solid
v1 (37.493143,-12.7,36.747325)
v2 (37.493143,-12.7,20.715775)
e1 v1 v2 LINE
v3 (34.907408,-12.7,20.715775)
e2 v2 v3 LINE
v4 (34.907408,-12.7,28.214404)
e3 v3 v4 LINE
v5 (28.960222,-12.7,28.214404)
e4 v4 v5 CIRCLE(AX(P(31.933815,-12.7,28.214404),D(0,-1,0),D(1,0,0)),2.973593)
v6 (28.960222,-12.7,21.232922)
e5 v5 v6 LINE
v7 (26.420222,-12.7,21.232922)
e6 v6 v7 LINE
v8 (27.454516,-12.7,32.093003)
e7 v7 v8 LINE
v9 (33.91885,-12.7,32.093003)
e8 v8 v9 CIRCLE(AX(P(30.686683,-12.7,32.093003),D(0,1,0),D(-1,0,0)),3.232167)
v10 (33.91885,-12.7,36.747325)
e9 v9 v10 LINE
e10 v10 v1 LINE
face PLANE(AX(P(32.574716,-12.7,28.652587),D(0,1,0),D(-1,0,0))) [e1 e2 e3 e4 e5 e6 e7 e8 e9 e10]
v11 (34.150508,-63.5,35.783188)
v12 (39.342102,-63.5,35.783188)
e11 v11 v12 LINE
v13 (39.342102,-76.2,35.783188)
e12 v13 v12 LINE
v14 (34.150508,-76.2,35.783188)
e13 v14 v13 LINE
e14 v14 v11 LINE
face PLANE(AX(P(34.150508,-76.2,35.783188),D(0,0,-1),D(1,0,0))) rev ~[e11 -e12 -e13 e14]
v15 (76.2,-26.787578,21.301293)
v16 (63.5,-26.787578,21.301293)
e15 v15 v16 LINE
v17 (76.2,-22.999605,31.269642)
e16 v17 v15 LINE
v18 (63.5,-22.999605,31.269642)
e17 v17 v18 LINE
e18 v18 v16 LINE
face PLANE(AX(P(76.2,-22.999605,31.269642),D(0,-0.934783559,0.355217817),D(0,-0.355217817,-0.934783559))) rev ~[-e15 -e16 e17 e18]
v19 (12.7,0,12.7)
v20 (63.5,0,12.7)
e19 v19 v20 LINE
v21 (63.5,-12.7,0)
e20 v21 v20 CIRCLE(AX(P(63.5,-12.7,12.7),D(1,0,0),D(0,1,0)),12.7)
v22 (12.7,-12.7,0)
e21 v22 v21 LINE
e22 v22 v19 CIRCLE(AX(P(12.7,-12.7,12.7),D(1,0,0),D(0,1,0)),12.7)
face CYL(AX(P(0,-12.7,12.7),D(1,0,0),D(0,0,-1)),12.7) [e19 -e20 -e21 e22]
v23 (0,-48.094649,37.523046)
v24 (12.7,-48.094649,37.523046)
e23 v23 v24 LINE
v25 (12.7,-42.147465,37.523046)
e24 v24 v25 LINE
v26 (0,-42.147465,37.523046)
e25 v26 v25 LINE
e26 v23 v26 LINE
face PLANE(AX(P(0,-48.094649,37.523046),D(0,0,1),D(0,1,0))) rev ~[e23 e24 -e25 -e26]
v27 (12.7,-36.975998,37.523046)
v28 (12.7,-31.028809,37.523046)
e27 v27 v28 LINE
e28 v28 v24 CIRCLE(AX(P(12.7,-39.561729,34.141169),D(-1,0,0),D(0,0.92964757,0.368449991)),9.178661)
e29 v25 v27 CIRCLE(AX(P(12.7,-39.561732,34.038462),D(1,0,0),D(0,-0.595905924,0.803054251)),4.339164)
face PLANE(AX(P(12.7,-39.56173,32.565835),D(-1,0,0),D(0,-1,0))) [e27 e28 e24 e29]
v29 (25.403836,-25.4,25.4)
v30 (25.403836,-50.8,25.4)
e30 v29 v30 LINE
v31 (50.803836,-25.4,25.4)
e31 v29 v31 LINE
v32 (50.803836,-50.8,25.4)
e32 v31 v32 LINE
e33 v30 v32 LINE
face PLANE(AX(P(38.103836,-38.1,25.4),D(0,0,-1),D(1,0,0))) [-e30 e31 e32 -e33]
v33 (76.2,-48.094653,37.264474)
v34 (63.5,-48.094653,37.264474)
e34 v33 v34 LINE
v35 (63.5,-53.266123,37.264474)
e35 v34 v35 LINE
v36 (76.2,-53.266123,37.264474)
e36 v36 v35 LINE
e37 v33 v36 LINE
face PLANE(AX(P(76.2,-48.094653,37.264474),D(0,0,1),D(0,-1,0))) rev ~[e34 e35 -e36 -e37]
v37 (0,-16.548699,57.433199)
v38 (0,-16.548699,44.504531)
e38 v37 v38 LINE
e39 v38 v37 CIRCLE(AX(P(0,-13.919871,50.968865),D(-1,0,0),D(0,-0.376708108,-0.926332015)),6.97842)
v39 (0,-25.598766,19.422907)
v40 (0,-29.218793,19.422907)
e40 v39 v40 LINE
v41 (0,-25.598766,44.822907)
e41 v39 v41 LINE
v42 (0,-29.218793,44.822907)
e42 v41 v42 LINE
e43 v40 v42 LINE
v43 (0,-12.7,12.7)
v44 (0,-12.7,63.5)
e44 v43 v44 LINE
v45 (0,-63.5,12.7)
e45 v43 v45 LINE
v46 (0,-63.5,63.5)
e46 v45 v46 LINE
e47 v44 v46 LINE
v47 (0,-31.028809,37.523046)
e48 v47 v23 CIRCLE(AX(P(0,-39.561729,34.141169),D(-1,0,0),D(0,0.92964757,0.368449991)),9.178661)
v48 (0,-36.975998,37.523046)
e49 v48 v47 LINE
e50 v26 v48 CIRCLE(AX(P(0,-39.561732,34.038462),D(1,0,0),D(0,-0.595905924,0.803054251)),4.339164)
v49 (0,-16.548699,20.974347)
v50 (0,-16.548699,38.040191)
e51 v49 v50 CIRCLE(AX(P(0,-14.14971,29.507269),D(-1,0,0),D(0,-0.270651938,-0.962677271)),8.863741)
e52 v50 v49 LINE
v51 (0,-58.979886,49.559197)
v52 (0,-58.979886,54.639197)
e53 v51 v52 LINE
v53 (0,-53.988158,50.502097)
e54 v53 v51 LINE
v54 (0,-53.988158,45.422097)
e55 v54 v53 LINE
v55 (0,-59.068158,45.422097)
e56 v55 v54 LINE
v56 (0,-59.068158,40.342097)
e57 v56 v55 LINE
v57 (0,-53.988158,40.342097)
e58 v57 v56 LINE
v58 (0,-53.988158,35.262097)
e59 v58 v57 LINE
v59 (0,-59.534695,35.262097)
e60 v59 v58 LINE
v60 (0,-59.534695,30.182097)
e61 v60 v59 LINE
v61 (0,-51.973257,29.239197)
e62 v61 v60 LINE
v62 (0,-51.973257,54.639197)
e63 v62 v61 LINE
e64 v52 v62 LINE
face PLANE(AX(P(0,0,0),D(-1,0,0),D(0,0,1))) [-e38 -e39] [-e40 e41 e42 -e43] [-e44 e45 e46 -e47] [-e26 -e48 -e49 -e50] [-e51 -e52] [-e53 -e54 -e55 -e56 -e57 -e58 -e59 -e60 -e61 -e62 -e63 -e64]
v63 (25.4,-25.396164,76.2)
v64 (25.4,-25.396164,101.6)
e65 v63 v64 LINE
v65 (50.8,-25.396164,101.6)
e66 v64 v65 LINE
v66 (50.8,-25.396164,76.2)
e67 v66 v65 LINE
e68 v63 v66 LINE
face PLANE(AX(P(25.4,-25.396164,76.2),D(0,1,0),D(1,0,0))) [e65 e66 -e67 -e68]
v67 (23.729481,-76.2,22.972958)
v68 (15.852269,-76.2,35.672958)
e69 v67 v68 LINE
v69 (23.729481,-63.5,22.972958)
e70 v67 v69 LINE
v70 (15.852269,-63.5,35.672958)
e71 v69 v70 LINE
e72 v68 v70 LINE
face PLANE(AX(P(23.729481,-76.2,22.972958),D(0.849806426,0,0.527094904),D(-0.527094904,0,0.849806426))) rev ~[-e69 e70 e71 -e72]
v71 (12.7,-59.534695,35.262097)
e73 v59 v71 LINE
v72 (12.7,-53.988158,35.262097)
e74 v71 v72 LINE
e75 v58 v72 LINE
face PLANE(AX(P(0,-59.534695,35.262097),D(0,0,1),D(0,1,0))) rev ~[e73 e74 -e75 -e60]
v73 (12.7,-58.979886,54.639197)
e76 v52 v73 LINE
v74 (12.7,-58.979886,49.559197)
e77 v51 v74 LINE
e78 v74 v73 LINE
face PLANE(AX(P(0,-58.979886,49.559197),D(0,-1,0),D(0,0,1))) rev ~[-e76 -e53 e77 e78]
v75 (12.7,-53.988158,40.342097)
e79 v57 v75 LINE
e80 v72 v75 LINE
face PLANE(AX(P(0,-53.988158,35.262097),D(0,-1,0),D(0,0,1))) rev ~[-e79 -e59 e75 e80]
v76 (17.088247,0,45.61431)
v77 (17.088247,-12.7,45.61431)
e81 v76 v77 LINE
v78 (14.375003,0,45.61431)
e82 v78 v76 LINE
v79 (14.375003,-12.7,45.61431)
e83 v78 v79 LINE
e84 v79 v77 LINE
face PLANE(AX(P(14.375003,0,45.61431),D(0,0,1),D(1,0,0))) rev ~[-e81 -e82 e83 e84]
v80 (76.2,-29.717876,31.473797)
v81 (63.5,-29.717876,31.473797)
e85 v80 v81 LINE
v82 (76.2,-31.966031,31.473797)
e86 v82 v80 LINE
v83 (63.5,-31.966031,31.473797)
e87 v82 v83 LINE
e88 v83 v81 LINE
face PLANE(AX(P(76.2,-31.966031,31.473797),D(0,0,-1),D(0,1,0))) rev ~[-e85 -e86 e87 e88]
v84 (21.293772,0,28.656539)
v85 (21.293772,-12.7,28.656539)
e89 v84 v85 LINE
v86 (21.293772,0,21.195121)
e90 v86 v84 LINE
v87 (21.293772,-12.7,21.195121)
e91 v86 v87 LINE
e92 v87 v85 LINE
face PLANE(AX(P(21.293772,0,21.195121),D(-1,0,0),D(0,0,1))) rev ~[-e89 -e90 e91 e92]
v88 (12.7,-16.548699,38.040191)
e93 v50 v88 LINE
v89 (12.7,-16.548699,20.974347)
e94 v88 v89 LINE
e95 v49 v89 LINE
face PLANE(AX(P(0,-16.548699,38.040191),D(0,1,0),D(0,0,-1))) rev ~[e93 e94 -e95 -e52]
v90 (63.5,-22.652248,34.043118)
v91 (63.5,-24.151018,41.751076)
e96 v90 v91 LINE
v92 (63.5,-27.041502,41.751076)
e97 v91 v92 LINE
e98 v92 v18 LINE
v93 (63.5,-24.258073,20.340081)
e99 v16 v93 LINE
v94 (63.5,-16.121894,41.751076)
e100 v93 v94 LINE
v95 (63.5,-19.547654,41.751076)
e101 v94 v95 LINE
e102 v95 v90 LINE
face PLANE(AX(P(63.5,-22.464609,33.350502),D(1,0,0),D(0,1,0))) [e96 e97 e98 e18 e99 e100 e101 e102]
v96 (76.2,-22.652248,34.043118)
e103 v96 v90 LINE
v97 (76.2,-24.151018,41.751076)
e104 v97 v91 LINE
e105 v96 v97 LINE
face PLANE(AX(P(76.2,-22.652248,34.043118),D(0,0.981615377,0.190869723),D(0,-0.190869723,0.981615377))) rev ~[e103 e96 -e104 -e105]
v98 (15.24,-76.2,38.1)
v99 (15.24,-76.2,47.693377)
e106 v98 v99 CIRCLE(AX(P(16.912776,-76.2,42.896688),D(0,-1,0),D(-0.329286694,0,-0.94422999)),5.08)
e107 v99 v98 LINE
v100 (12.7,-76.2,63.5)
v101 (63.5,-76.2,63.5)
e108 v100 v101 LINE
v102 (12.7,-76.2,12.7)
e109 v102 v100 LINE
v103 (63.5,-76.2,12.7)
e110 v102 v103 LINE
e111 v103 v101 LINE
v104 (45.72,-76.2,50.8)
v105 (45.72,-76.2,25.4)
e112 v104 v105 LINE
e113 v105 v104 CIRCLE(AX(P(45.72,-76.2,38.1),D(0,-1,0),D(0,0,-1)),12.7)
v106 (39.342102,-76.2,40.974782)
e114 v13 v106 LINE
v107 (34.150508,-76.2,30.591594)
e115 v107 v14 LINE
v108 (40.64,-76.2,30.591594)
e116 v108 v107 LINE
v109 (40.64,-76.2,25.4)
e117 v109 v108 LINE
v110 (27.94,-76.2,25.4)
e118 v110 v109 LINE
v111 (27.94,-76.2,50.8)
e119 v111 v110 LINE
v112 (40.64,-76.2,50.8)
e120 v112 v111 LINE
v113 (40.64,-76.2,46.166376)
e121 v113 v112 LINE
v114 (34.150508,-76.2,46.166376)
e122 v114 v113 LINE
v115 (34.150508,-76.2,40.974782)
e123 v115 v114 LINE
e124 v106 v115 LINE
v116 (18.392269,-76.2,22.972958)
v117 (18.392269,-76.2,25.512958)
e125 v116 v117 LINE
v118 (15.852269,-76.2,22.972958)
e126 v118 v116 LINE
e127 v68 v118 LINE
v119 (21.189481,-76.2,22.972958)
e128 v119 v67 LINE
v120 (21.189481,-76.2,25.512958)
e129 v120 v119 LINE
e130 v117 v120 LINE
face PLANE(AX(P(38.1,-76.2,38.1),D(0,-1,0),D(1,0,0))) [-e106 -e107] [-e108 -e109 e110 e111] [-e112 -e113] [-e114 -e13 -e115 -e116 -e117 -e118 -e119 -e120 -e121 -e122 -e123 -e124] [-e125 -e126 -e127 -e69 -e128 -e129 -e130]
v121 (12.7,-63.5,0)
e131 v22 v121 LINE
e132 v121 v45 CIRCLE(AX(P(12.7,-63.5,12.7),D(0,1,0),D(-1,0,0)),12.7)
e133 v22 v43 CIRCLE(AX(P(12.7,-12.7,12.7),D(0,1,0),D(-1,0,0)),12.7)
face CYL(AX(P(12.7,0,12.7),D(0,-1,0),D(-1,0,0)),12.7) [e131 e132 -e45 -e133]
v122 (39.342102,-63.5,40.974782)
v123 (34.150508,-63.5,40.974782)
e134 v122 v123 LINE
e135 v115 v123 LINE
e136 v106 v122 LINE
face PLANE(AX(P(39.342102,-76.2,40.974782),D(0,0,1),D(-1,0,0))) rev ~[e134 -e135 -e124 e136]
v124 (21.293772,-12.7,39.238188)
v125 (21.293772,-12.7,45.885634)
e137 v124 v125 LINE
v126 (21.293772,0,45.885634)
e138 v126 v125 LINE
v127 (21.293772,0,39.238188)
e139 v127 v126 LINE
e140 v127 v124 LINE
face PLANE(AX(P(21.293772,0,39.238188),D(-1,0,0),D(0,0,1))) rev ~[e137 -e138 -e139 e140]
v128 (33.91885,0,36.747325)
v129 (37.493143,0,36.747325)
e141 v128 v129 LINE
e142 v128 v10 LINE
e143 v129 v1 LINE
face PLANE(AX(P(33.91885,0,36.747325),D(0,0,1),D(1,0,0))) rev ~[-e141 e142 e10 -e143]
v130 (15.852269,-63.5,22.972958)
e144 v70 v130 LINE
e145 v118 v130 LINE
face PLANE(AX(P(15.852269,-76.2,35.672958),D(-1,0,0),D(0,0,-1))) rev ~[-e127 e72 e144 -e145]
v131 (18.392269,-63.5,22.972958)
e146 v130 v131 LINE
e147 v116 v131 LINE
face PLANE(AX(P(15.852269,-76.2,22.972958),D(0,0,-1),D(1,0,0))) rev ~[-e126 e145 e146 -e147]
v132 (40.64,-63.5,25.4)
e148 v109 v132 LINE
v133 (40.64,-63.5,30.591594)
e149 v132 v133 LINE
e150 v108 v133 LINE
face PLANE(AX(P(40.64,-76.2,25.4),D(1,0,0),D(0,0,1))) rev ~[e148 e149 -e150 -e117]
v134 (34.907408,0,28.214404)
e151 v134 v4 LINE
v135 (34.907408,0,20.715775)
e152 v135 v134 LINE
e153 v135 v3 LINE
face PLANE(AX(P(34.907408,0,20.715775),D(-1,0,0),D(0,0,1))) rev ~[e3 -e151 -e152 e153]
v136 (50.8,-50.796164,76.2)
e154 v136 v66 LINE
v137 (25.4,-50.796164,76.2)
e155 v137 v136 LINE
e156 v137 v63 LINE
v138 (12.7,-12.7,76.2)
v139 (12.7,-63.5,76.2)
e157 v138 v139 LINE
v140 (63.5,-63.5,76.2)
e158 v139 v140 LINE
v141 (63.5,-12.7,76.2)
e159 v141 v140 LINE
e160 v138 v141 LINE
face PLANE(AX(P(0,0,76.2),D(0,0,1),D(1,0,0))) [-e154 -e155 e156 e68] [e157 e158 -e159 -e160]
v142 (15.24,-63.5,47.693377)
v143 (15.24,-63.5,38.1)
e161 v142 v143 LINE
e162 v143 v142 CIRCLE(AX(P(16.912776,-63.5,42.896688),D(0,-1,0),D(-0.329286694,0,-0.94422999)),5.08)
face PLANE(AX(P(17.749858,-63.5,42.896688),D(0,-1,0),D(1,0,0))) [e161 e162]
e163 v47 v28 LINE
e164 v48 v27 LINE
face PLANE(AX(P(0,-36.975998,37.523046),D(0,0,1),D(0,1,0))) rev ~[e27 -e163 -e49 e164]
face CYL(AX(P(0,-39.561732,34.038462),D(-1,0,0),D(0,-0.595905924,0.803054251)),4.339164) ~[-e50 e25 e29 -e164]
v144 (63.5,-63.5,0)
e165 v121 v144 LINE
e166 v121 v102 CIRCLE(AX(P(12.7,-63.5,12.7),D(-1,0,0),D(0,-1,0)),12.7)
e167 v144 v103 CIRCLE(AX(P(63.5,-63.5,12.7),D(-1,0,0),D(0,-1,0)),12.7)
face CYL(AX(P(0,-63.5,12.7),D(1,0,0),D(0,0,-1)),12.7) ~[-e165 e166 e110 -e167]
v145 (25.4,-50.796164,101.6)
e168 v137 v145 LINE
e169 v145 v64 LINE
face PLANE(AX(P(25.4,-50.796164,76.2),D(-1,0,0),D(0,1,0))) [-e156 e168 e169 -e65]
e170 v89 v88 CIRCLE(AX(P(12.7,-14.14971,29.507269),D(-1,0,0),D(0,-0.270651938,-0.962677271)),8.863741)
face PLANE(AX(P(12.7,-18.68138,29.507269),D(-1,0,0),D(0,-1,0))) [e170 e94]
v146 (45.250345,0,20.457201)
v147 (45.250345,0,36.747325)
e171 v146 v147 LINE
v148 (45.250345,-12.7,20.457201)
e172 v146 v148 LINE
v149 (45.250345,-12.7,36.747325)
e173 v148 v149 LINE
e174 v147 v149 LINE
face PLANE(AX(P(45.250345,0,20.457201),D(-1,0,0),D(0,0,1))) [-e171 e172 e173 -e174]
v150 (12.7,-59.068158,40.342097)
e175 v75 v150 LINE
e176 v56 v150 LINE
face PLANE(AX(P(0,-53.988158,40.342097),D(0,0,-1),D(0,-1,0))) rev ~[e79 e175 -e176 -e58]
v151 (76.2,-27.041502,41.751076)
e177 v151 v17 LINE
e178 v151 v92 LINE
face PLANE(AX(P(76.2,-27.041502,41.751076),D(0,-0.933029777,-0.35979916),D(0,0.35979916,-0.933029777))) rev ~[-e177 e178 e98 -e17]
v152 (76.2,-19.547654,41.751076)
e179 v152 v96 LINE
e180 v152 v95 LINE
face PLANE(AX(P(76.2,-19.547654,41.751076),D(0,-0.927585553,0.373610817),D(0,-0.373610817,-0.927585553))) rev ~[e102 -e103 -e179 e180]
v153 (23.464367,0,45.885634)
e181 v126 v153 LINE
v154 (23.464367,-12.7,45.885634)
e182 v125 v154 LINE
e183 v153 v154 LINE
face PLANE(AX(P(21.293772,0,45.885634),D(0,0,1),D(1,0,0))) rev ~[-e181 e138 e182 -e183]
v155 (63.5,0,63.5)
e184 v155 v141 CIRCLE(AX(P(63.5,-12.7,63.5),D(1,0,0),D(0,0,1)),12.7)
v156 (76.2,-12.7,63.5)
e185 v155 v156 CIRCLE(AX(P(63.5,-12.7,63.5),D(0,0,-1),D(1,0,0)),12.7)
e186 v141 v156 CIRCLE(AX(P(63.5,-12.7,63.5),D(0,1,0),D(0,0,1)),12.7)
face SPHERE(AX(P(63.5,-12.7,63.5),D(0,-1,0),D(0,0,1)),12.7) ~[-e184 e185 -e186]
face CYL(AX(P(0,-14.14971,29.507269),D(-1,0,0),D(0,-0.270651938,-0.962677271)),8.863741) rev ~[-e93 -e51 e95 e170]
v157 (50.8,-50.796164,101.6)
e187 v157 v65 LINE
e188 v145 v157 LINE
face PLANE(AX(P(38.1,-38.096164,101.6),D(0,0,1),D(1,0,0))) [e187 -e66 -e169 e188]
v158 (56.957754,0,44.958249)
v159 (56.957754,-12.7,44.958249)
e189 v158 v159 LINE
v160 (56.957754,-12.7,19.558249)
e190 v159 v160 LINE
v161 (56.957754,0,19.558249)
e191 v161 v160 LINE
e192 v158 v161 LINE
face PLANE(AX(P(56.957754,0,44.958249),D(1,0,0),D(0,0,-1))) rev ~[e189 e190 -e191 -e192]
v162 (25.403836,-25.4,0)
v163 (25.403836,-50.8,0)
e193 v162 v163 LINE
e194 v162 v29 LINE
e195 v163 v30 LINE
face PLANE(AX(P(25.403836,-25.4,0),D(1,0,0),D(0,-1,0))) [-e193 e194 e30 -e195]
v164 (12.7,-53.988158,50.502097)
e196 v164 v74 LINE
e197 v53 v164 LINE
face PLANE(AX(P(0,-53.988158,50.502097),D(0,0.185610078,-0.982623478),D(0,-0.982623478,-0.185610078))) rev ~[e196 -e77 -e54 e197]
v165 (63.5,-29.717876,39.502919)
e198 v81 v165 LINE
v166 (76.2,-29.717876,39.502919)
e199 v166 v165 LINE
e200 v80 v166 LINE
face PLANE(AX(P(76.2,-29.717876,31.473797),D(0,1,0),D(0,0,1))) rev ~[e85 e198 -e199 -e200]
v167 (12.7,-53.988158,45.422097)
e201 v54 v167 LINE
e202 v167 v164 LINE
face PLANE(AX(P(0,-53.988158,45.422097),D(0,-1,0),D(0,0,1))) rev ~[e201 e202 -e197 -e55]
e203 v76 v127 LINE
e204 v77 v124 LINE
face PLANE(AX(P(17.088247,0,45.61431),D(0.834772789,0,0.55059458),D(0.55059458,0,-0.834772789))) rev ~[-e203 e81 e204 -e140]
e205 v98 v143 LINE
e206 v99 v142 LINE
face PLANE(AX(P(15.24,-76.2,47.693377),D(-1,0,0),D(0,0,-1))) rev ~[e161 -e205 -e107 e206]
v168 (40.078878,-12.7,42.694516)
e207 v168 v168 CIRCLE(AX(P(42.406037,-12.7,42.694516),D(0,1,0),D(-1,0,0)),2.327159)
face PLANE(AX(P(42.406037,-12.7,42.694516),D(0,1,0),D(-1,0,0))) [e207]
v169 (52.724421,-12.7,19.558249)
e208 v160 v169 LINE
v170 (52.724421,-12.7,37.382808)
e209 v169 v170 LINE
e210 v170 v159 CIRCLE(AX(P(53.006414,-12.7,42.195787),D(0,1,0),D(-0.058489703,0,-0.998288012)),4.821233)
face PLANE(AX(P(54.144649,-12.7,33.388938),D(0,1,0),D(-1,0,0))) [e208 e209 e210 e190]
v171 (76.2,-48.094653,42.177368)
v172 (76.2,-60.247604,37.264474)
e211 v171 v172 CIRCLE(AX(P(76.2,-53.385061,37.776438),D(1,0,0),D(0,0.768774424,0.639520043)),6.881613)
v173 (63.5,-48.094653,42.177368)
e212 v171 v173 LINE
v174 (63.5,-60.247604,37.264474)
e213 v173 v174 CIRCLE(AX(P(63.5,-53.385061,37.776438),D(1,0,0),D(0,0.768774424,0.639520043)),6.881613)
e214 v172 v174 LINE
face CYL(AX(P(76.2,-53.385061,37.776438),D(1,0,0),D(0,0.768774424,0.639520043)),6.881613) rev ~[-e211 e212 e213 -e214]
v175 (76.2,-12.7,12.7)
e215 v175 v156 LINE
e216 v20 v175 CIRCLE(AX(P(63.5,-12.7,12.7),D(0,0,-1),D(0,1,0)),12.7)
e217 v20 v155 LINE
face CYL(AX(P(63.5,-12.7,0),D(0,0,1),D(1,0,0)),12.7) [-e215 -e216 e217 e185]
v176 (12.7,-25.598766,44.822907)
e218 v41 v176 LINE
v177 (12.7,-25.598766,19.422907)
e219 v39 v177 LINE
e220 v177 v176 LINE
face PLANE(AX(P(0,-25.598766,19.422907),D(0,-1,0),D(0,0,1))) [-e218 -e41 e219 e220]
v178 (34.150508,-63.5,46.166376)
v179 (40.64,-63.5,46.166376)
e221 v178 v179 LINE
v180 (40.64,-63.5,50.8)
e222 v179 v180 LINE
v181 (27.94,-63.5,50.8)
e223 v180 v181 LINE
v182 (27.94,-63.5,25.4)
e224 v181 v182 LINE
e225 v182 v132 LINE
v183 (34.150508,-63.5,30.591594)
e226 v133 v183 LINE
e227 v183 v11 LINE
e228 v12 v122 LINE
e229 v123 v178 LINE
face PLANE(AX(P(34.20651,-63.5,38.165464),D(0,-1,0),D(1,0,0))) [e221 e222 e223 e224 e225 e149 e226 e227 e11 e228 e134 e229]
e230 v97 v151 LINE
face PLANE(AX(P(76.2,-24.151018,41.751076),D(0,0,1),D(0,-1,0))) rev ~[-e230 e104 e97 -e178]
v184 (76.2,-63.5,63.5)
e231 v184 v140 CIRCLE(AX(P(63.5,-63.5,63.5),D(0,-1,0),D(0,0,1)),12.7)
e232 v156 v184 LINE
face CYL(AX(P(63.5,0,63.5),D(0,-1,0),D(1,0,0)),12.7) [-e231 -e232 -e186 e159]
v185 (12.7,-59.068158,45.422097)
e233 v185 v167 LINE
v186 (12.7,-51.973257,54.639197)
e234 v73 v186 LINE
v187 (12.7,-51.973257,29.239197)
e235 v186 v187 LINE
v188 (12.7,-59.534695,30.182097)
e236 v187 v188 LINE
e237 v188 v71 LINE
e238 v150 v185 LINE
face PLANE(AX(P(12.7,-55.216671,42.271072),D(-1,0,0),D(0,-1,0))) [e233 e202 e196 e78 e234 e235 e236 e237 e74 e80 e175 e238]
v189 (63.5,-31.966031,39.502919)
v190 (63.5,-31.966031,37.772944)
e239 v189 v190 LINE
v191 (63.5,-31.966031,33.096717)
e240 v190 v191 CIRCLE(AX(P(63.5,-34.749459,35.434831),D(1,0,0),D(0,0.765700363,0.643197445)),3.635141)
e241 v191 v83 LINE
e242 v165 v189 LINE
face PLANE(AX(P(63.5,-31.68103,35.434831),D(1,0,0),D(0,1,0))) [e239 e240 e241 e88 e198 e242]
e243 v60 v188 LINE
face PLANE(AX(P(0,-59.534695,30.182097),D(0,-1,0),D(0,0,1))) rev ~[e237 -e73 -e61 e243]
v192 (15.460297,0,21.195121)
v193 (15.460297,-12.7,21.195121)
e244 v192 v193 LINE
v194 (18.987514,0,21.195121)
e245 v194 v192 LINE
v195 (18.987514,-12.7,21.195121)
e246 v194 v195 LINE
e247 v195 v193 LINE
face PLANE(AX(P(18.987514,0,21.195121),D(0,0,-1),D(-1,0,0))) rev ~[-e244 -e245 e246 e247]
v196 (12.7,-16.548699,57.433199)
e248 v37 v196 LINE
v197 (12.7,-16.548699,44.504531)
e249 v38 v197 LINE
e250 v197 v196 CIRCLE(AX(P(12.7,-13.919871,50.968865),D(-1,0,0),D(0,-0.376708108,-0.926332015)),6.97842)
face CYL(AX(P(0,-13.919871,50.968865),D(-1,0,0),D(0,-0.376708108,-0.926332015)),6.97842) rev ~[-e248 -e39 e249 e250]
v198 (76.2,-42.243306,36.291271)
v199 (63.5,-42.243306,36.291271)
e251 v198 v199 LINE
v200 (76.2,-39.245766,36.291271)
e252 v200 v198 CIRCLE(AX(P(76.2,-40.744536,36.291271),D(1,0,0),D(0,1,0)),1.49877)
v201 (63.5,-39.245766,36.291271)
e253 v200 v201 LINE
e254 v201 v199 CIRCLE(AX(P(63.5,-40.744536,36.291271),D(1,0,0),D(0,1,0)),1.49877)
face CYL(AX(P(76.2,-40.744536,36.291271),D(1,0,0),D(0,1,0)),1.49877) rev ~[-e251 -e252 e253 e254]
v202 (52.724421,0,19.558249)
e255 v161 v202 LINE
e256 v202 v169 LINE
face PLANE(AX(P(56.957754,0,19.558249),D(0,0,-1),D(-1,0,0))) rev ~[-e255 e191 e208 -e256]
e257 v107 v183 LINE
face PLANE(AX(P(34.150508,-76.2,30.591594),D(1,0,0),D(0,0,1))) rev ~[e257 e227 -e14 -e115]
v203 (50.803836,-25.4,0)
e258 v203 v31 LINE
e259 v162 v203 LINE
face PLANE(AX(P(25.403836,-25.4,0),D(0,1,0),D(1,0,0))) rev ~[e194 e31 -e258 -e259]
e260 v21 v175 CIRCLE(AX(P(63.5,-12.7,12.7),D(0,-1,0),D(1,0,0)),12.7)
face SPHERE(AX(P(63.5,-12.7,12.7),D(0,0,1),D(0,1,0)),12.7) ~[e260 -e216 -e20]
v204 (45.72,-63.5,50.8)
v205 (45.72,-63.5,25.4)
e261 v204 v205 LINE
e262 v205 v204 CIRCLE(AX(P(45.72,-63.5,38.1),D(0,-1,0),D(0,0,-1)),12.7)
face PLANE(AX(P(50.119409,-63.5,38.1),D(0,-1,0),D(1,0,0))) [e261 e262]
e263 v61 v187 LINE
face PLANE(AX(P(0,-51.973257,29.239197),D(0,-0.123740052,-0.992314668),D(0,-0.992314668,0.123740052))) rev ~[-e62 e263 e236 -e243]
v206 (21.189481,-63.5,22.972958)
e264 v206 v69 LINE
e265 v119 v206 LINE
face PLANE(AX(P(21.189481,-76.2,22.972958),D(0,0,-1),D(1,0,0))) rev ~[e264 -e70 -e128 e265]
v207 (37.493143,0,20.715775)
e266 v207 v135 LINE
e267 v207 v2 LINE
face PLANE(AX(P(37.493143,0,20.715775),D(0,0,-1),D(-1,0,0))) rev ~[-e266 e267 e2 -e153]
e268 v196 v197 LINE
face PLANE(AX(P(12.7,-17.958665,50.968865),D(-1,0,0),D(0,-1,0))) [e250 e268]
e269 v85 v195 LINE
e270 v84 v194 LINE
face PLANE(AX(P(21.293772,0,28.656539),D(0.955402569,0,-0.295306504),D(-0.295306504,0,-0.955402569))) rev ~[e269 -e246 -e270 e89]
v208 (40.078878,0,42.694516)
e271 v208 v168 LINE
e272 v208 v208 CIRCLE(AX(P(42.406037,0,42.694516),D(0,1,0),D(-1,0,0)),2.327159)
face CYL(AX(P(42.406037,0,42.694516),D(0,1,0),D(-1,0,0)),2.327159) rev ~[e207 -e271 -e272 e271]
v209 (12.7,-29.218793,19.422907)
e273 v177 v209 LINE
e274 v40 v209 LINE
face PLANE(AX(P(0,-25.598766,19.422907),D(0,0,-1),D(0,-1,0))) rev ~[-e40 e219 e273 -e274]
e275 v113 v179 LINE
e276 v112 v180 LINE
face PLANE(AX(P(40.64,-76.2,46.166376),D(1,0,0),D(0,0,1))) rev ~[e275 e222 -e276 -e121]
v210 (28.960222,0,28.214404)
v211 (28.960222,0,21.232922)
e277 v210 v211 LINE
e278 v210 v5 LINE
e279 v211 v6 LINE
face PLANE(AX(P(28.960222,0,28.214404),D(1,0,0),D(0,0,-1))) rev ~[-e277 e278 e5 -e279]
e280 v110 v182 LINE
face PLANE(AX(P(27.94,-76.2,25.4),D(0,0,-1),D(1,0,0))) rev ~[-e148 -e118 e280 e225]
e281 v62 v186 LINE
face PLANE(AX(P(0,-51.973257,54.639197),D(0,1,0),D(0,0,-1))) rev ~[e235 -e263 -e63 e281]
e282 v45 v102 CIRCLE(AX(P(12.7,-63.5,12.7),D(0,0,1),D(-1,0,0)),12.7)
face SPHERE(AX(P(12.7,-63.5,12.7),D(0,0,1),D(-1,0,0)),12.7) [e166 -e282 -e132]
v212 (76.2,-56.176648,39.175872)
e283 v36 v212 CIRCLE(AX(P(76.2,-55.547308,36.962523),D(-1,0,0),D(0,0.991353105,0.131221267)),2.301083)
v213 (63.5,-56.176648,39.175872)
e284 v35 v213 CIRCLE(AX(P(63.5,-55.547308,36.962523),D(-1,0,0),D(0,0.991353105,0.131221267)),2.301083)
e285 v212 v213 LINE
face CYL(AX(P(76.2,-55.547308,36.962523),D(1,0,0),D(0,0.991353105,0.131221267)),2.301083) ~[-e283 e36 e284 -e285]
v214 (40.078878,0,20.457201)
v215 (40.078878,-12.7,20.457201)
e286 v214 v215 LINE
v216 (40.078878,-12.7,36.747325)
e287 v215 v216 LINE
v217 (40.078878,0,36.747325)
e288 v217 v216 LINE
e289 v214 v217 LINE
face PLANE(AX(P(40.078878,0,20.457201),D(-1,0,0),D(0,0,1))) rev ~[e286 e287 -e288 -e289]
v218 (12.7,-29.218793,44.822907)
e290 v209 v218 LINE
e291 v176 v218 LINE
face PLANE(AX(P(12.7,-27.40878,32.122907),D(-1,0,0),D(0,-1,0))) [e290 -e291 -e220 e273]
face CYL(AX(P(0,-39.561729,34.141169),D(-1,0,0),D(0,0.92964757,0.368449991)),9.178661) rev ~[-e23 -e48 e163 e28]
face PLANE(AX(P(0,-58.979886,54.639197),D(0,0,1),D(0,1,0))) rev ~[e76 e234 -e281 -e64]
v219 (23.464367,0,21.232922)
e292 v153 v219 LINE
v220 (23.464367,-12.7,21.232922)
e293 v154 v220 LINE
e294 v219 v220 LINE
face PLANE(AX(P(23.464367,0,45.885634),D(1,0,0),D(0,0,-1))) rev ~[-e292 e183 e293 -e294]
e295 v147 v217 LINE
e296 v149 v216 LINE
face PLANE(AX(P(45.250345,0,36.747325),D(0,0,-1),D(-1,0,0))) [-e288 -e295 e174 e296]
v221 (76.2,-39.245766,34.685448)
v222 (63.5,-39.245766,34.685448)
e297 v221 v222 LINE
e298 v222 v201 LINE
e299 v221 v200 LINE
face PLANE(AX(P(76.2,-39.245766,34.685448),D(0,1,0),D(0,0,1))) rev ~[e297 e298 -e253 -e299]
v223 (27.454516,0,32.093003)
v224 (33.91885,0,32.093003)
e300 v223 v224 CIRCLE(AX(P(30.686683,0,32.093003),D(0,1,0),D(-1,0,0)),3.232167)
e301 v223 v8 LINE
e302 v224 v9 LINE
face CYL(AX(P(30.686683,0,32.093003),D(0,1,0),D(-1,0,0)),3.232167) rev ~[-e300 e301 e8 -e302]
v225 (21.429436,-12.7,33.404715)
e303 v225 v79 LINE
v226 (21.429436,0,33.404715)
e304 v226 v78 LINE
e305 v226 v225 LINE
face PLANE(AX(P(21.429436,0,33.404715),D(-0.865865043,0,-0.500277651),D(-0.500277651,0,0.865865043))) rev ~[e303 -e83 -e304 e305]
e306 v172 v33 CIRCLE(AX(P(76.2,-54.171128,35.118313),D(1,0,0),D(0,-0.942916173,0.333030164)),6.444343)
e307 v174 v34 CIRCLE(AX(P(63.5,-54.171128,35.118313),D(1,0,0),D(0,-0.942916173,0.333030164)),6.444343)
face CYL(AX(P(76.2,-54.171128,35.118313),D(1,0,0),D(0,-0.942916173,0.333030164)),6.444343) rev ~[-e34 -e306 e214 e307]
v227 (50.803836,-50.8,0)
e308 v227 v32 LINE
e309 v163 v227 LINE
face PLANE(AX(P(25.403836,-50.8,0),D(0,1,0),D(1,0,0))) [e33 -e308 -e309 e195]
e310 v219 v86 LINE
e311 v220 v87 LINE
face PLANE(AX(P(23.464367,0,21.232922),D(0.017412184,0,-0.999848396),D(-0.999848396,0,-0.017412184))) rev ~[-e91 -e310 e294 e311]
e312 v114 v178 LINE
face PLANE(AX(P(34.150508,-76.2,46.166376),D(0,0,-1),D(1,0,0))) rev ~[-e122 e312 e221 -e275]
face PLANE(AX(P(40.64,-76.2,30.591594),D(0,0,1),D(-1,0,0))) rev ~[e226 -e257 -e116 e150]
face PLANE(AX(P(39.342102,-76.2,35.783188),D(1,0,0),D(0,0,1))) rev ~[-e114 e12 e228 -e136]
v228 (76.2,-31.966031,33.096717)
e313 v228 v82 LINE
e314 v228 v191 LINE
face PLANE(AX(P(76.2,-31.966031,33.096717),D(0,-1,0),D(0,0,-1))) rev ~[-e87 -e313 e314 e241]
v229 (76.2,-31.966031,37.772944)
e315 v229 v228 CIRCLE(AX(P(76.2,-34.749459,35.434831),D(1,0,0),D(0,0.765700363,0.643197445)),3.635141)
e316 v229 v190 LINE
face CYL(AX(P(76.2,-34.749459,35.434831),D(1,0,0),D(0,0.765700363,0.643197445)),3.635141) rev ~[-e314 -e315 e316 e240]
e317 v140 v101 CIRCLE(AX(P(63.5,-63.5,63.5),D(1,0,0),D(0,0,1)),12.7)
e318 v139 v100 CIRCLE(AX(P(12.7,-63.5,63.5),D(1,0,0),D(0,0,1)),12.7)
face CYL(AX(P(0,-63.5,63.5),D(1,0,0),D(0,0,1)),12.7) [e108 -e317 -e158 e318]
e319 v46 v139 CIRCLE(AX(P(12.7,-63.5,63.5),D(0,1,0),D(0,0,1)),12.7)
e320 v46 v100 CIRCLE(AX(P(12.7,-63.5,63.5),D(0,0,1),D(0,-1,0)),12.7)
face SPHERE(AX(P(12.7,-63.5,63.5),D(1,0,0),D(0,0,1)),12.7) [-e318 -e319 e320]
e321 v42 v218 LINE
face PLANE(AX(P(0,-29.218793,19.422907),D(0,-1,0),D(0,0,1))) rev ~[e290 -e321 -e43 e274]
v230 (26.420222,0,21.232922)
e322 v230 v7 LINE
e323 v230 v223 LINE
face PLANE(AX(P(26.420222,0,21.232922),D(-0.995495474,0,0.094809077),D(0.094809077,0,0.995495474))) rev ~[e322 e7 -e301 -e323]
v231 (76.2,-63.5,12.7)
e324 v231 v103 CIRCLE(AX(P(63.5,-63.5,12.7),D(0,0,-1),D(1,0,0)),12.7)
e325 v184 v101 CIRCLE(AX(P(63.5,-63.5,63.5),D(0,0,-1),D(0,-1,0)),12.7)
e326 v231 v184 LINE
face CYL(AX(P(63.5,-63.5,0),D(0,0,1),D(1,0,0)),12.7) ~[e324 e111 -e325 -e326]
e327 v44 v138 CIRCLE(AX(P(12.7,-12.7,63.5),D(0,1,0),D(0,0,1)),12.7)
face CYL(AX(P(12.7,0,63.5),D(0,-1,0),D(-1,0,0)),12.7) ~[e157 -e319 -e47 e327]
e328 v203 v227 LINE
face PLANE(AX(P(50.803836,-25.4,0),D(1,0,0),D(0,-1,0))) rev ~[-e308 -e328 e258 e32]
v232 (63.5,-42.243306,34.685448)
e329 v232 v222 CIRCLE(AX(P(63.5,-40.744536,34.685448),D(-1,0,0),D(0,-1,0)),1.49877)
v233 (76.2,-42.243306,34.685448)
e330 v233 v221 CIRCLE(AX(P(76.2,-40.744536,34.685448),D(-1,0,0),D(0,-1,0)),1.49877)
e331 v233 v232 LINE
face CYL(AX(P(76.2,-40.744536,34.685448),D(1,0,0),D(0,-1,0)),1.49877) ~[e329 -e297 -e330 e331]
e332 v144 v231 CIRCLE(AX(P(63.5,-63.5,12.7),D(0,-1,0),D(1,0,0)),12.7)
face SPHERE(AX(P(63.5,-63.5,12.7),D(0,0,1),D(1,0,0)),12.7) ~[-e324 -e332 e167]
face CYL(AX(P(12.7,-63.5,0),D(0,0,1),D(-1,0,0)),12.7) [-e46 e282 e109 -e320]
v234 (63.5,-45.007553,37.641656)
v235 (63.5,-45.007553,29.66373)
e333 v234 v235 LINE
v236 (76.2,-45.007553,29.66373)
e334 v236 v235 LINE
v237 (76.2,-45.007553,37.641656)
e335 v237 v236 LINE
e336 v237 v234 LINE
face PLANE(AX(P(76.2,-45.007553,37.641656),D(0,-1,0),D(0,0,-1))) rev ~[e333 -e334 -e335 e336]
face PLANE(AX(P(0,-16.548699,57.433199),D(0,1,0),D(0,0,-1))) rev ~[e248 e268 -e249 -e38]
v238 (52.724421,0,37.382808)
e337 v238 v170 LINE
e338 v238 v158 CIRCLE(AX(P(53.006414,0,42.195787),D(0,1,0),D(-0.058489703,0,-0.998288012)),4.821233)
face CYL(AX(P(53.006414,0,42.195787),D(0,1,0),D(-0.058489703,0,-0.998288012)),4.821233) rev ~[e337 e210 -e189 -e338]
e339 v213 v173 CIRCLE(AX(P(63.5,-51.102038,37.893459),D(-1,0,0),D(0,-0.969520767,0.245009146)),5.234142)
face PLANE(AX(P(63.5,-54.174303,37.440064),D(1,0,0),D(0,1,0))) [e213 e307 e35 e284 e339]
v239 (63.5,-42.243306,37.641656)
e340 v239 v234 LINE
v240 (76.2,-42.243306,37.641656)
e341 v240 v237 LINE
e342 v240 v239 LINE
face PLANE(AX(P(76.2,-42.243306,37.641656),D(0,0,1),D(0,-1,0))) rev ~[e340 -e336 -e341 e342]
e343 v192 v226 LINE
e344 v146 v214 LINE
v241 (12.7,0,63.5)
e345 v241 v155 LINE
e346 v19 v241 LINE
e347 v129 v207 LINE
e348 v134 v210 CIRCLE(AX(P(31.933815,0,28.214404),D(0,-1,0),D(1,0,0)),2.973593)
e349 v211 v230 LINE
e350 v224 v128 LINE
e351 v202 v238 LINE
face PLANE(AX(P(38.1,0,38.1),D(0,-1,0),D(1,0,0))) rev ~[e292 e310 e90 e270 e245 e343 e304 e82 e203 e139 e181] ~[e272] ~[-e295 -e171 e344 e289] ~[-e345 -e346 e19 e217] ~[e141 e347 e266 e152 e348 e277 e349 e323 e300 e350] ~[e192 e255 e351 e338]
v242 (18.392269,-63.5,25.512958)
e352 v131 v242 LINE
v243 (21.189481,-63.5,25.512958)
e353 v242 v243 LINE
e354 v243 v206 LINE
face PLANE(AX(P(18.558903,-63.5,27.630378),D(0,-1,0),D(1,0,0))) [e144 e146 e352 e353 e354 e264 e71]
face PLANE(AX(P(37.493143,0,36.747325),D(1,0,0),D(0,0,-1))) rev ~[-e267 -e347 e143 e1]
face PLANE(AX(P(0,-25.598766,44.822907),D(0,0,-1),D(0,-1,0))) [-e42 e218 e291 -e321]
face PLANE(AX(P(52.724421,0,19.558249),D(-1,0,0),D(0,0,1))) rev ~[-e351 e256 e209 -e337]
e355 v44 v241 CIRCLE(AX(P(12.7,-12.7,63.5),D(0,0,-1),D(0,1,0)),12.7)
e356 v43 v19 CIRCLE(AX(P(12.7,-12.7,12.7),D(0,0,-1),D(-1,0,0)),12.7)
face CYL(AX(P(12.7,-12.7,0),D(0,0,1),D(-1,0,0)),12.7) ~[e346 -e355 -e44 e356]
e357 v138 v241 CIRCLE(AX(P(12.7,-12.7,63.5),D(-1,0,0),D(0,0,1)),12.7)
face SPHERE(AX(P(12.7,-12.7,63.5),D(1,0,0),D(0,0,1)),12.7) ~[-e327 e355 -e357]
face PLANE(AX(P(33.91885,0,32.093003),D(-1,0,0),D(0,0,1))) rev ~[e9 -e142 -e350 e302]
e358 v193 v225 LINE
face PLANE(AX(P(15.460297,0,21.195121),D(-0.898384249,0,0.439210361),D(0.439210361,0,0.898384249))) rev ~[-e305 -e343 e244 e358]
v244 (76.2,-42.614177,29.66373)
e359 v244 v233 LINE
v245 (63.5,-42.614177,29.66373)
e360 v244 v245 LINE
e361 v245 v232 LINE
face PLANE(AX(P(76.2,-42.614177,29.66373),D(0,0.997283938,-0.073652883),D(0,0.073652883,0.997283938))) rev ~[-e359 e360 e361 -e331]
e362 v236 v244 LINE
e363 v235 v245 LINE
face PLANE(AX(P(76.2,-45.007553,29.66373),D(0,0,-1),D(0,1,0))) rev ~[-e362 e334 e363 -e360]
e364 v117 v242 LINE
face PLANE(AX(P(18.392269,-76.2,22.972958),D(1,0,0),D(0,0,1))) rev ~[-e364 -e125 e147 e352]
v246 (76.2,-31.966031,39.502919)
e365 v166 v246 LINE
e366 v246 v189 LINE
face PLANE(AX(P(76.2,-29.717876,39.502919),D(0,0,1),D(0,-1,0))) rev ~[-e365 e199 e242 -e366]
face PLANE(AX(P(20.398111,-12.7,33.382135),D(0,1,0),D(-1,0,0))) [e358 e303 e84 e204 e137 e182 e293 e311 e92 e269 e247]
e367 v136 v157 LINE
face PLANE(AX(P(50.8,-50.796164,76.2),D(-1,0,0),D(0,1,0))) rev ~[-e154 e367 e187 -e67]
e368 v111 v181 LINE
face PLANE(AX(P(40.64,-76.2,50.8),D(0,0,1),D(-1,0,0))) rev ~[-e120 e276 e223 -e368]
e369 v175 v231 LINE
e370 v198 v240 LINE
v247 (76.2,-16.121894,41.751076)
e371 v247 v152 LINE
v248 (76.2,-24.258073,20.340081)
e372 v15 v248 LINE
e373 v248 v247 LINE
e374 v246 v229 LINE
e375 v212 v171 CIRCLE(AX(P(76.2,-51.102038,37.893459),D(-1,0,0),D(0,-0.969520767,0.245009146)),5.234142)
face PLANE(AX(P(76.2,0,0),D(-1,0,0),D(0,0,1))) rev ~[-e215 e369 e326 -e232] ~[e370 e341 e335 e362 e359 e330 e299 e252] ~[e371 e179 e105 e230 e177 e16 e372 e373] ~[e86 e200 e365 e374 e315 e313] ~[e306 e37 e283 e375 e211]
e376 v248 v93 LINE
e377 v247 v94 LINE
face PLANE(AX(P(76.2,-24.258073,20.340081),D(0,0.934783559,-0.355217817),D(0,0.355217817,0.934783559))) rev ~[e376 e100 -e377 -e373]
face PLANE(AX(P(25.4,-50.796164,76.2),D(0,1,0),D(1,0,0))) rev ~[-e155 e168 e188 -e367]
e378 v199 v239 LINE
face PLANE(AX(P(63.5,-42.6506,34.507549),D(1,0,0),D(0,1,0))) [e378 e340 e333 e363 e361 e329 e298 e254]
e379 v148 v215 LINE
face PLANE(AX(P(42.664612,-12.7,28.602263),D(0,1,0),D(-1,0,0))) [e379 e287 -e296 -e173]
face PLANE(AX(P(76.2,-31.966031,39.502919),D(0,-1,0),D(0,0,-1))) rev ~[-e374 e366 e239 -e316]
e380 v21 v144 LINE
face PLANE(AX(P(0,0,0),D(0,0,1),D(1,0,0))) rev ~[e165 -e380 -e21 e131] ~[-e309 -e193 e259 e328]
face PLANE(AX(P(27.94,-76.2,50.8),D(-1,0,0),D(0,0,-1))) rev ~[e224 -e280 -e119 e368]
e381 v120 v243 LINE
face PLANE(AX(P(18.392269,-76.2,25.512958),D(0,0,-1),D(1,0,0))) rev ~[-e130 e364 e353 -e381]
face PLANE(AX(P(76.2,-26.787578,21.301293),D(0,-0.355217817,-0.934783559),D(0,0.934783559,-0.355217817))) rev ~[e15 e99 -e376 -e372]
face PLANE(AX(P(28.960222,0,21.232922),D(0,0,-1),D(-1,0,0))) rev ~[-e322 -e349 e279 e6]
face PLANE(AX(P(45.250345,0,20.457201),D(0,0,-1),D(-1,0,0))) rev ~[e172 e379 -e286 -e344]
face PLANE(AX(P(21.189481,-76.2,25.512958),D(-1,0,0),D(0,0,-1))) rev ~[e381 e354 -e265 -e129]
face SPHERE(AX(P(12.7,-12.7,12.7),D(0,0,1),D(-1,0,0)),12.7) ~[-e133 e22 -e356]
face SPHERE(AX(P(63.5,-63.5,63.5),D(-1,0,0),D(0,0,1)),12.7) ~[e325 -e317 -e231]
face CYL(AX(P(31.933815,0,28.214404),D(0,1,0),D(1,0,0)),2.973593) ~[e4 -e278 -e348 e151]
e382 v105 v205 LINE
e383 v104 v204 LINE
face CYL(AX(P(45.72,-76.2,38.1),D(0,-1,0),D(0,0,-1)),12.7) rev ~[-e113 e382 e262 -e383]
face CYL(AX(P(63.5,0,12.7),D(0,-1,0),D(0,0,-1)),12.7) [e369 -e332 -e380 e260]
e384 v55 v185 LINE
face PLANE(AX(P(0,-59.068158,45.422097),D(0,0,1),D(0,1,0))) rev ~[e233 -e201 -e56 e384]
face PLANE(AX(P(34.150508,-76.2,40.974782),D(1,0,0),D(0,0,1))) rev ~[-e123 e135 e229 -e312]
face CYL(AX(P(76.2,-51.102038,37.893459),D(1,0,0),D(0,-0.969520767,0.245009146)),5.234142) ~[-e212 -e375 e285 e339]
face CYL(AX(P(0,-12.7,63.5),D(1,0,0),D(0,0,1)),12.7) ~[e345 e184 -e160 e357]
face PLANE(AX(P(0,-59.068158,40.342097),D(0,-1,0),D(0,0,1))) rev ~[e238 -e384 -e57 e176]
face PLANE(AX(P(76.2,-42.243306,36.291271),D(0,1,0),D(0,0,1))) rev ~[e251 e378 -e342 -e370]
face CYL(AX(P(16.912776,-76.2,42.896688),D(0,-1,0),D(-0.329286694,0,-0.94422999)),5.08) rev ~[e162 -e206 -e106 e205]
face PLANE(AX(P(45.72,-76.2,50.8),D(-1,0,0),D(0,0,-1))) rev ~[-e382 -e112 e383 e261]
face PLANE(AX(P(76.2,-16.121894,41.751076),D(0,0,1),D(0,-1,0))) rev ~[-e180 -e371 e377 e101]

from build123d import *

# Parameters (mm, degrees)
F0_W      = 76.2
F0_H      = 76.2
F1_DEPTH  = 76.2
F2_R      = 12.7
F4_DEPTH  = 12.7
F6_DEPTH  = 12.7
F7_W      = 25.4
F7_H      = 25.4
F8_DEPTH  = 25.4
F9_W      = 25.4
F9_H      = 25.4
F10_DEPTH = 25.4
F11_W     = 3.6200266331
F11_H     = 25.4
F12_DEPTH = 12.7
F13_W     = 5.1714666188
F13_H     = 16.2901245058
F13_R     = 2.3271590471
F14_DEPTH = 12.7
F16_DEPTH = 12.7


with BuildPart() as f1:
    # F0 (on Front) → F1 (new body)
    with BuildSketch(Plane.XZ):
        with Locations((38.1, 38.1)):
            Rectangle(F0_W, F0_H)
    extrude(amount=F1_DEPTH)

    # F2
    f2_edges = [f1.edges().sort_by_distance(p)[0] for p in [
        (38.1, -76.2, 76.2),
        (76.2, -38.1, 76.2),
        (38.1, 0, 76.2),
        (0, -38.1, 76.2),
        (76.2, -76.2, 38.1),
        (76.2, 0, 38.1),
        (0, -76.2, 38.1),
        (0, 0, 38.1),
        (0, -38.1, 0),
        (38.1, 0, 0),
        (76.2, -38.1, 0),
        (38.1, -76.2, 0),
    ]]
    fillet(f2_edges, radius=F2_R)

    # F3 (on face) → F4 (cut)
    with BuildSketch(Plane.XZ.offset(76.2)):
        with BuildLine():
            Line((15.24, 47.6933766934), (15.24, 38.1))
            ThreePointArc((15.24, 38.1), (21.992776406, 42.8966883467), (15.24, 47.6933766934))
        make_face()
        Polygon((27.94, 50.8), (27.94, 25.4), (40.64, 25.4), (40.64, 30.5915938972), (34.1505076285, 30.5915938972), (34.1505076285, 35.7831877943), (39.3421015257, 35.7831877943), (39.3421015257, 40.9747816915), (34.1505076285, 40.9747816915), (34.1505076285, 46.1663755887), (40.64, 46.1663755887), (40.64, 50.8), align=None)
        with BuildLine():
            ThreePointArc((45.72, 25.4), (58.42, 38.1), (45.72, 50.8))
            Line((45.72, 50.8), (45.72, 25.4))
        make_face()
    extrude(amount=-F4_DEPTH, mode=Mode.SUBTRACT)

    # F5 (on face) → F6 (cut)
    with BuildSketch(Plane.XZ.offset(76.2)):
        Polygon((23.7294812034, 22.97295762), (15.8522693162, 35.67295762), (15.8522693162, 22.97295762), (18.3922693162, 22.97295762), (18.3922693162, 25.51295762), (21.1894812034, 25.51295762), (21.1894812034, 22.97295762), align=None)
    extrude(amount=-F6_DEPTH, mode=Mode.SUBTRACT)

    # F7 (on face) → F8 (cut)
    with BuildSketch(Plane(origin=(0, 0, 0), x_dir=(1, 0, 0), z_dir=(0, 0, -1))):
        with Locations((38.1038359793, 38.1)):
            Rectangle(F7_W, F7_H)
    extrude(amount=-F8_DEPTH, mode=Mode.SUBTRACT)

    # F9 (on face) → F10 (join)
    with BuildSketch(Plane.XY.offset(76.2)):
        with Locations((38.1, -38.0961640207)):
            Rectangle(F9_W, F9_H)
    extrude(amount=F10_DEPTH)

    # F11 (on face) → F12 (cut)
    with BuildSketch(Plane(origin=(0, 0, 0), x_dir=(0, -1, 0), z_dir=(-1, 0, 0))):
        with BuildLine():
            ThreePointArc((16.548698768, 44.5045307279), (20.8982916063, 50.9688649327), (16.548698768, 57.4331991374))
            Line((16.548698768, 57.4331991374), (16.548698768, 44.5045307279))
        make_face()
        with BuildLine():
            ThreePointArc((16.548698768, 20.9743473679), (23.013450923, 29.5072691515), (16.548698768, 38.0401909351))
            Line((16.548698768, 38.0401909351), (16.548698768, 20.9743473679))
        make_face()
        with Locations((27.4087795988, 32.1229073822)):
            Rectangle(F11_W, F11_H)
        with BuildLine():
            Line((36.9759984314, 37.5230461359), (31.0288090259, 37.5230461359))
            ThreePointArc((31.0288090259, 37.5230461359), (39.5617289469, 24.9625075374), (48.0946488678, 37.5230461359))
            Line((48.0946488678, 37.5230461359), (42.1474650502, 37.5230461359))
            ThreePointArc((42.1474650502, 37.5230461359), (39.5617317408, 29.699298714), (36.9759984314, 37.5230461359))
        make_face()
        Polygon((51.9732572138, 54.6391973982), (51.9732572138, 29.2391973982), (59.5346949809, 30.1820965947), (59.5346949809, 35.2620965947), (53.9881583642, 35.2620965947), (53.9881583642, 40.3420965947), (59.0681583642, 40.3420965947), (59.0681583642, 45.4220965947), (53.9881583642, 45.4220965947), (53.9881583642, 50.5020965947), (58.9798856309, 49.5591973982), (58.9798856309, 54.6391973982), align=None)
    extrude(amount=-F12_DEPTH, mode=Mode.SUBTRACT)

    # F13 (on face) → F14 (cut)
    with BuildSketch(Plane(origin=(0, 0, 0), x_dir=(-1, 0, 0), z_dir=(0, 1, 0))):
        with BuildLine():
            ThreePointArc((-52.724421297, 37.3828077149), (-48.797749492, 44.5476863023), (-56.9577540953, 44.958248733))
            Line((-56.9577540953, 44.958248733), (-56.9577540953, 19.558248733))
            Line((-56.9577540953, 19.558248733), (-52.724421297, 19.558248733))
            Line((-52.724421297, 19.558248733), (-52.724421297, 37.3828077149))
        make_face()
        with Locations((-42.6646117121, 28.6022629589)):
            Rectangle(F13_W, F13_H)
        with BuildLine():
            Line((-37.4931432307, 36.7473252118), (-37.4931432307, 20.7157749683))
            Line((-37.4931432307, 20.7157749683), (-34.9074080586, 20.7157749683))
            Line((-34.9074080586, 20.7157749683), (-34.9074080586, 28.2144043595))
            ThreePointArc((-34.9074080586, 28.2144043595), (-31.9338152185, 31.1879971996), (-28.9602223784, 28.2144043595))
            Line((-28.9602223784, 28.2144043595), (-28.9602223784, 21.2329216301))
            Line((-28.9602223784, 21.2329216301), (-26.4202223784, 21.2329216301))
            Line((-26.4202223784, 21.2329216301), (-27.4545157021, 32.0930033922))
            ThreePointArc((-27.4545157021, 32.0930033922), (-30.6866828045, 35.3251704946), (-33.9188499069, 32.0930033922))
            Line((-33.9188499069, 32.0930033922), (-33.9188499069, 36.7473252118))
            Line((-33.9188499069, 36.7473252118), (-37.4931432307, 36.7473252118))
        make_face()
        Polygon((-23.4643667936, 45.8856336772), (-23.4643667936, 21.2329216301), (-21.2937723845, 21.1951211095), (-21.2937723845, 28.6565385759), (-18.9875140786, 21.1951211095), (-15.4602974653, 21.1951211095), (-21.4294362813, 33.4047153592), (-14.3750030547, 45.6143096089), (-17.0882474631, 45.6143096089), (-21.2937723845, 39.2381884158), (-21.2937723845, 45.8856336772), align=None)
        with Locations((-42.4060374498, 42.69451648)):
            Circle(F13_R)
    extrude(amount=-F14_DEPTH, mode=Mode.SUBTRACT)

    # F15 (on face) → F16 (cut)
    with BuildSketch(Plane.YZ.offset(76.2)):
        with BuildLine():
            Line((-48.0946525931, 37.2644737363), (-53.2661229372, 37.2644737363))
            ThreePointArc((-53.2661229372, 37.2644737363), (-56.8104432824, 35.0391216214), (-56.1766475439, 39.1758717597))
            ThreePointArc((-56.1766475439, 39.1758717597), (-52.9242890713, 42.80015293), (-48.0946525931, 42.1773679554))
            ThreePointArc((-48.0946525931, 42.1773679554), (-55.964214699, 44.1564514691), (-60.2476038039, 37.2644737363))
            ThreePointArc((-60.2476038039, 37.2644737363), (-54.1711281985, 28.6739696125), (-48.0946525931, 37.2644737363))
        make_face()
        with BuildLine():
            Line((-45.0075529516, 37.6416556537), (-45.0075529516, 29.6637304127))
            Line((-45.0075529516, 29.6637304127), (-42.6141768694, 29.6637304127))
            Line((-42.6141768694, 29.6637304127), (-42.2433055937, 34.6854478121))
            ThreePointArc((-42.2433055937, 34.6854478121), (-40.744535625, 36.1842177808), (-39.2457656562, 34.6854478121))
            Line((-39.2457656562, 34.6854478121), (-39.2457656562, 36.2912714481))
            ThreePointArc((-39.2457656562, 36.2912714481), (-40.744535625, 37.7900414169), (-42.2433055937, 36.2912714481))
            Line((-42.2433055937, 36.2912714481), (-42.2433055937, 37.6416556537))
            Line((-42.2433055937, 37.6416556537), (-45.0075529516, 37.6416556537))
        make_face()
        with BuildLine():
            ThreePointArc((-31.9660305977, 33.0967174506), (-31.3338769664, 34.1906255239), (-31.1143183532, 35.4348309338))
            ThreePointArc((-31.1143183532, 35.4348309338), (-31.3338769664, 36.6790363437), (-31.9660305977, 37.772944417))
            Line((-31.9660305977, 37.772944417), (-31.9660305977, 33.0967174506))
        make_face()
        with BuildLine():
            ThreePointArc((-31.9660305977, 37.772944417), (-31.3338769664, 36.6790363437), (-31.1143183532, 35.4348309338))
            ThreePointArc((-31.1143183532, 35.4348309338), (-31.3338769664, 34.1906255239), (-31.9660305977, 33.0967174506))
            Line((-31.9660305977, 33.0967174506), (-31.9660305977, 31.4737968147))
            Line((-31.9660305977, 31.4737968147), (-29.7178756446, 31.4737968147))
            Line((-29.7178756446, 31.4737968147), (-29.7178756446, 39.5029187202))
            Line((-29.7178756446, 39.5029187202), (-31.9660305977, 39.5029187202))
            Line((-31.9660305977, 39.5029187202), (-31.9660305977, 37.772944417))
        make_face()
        with BuildLine():
            Line((-31.9660305977, 33.0967174506), (-31.9660305977, 37.772944417))
            ThreePointArc((-31.9660305977, 37.772944417), (-38.3846005973, 35.4348309338), (-31.9660305977, 33.0967174506))
        make_face()
        Polygon((-24.1510178894, 41.751075536), (-27.0415022969, 41.751075536), (-22.9996046927, 31.2696424589), (-26.7875780846, 21.3012932532), (-24.2580734193, 20.3400813043), (-16.1218941212, 41.751075536), (-19.5476543158, 41.751075536), (-22.6522479206, 34.0431183577), align=None)
    extrude(amount=-F16_DEPTH, mode=Mode.SUBTRACT)


solid = f1.part
